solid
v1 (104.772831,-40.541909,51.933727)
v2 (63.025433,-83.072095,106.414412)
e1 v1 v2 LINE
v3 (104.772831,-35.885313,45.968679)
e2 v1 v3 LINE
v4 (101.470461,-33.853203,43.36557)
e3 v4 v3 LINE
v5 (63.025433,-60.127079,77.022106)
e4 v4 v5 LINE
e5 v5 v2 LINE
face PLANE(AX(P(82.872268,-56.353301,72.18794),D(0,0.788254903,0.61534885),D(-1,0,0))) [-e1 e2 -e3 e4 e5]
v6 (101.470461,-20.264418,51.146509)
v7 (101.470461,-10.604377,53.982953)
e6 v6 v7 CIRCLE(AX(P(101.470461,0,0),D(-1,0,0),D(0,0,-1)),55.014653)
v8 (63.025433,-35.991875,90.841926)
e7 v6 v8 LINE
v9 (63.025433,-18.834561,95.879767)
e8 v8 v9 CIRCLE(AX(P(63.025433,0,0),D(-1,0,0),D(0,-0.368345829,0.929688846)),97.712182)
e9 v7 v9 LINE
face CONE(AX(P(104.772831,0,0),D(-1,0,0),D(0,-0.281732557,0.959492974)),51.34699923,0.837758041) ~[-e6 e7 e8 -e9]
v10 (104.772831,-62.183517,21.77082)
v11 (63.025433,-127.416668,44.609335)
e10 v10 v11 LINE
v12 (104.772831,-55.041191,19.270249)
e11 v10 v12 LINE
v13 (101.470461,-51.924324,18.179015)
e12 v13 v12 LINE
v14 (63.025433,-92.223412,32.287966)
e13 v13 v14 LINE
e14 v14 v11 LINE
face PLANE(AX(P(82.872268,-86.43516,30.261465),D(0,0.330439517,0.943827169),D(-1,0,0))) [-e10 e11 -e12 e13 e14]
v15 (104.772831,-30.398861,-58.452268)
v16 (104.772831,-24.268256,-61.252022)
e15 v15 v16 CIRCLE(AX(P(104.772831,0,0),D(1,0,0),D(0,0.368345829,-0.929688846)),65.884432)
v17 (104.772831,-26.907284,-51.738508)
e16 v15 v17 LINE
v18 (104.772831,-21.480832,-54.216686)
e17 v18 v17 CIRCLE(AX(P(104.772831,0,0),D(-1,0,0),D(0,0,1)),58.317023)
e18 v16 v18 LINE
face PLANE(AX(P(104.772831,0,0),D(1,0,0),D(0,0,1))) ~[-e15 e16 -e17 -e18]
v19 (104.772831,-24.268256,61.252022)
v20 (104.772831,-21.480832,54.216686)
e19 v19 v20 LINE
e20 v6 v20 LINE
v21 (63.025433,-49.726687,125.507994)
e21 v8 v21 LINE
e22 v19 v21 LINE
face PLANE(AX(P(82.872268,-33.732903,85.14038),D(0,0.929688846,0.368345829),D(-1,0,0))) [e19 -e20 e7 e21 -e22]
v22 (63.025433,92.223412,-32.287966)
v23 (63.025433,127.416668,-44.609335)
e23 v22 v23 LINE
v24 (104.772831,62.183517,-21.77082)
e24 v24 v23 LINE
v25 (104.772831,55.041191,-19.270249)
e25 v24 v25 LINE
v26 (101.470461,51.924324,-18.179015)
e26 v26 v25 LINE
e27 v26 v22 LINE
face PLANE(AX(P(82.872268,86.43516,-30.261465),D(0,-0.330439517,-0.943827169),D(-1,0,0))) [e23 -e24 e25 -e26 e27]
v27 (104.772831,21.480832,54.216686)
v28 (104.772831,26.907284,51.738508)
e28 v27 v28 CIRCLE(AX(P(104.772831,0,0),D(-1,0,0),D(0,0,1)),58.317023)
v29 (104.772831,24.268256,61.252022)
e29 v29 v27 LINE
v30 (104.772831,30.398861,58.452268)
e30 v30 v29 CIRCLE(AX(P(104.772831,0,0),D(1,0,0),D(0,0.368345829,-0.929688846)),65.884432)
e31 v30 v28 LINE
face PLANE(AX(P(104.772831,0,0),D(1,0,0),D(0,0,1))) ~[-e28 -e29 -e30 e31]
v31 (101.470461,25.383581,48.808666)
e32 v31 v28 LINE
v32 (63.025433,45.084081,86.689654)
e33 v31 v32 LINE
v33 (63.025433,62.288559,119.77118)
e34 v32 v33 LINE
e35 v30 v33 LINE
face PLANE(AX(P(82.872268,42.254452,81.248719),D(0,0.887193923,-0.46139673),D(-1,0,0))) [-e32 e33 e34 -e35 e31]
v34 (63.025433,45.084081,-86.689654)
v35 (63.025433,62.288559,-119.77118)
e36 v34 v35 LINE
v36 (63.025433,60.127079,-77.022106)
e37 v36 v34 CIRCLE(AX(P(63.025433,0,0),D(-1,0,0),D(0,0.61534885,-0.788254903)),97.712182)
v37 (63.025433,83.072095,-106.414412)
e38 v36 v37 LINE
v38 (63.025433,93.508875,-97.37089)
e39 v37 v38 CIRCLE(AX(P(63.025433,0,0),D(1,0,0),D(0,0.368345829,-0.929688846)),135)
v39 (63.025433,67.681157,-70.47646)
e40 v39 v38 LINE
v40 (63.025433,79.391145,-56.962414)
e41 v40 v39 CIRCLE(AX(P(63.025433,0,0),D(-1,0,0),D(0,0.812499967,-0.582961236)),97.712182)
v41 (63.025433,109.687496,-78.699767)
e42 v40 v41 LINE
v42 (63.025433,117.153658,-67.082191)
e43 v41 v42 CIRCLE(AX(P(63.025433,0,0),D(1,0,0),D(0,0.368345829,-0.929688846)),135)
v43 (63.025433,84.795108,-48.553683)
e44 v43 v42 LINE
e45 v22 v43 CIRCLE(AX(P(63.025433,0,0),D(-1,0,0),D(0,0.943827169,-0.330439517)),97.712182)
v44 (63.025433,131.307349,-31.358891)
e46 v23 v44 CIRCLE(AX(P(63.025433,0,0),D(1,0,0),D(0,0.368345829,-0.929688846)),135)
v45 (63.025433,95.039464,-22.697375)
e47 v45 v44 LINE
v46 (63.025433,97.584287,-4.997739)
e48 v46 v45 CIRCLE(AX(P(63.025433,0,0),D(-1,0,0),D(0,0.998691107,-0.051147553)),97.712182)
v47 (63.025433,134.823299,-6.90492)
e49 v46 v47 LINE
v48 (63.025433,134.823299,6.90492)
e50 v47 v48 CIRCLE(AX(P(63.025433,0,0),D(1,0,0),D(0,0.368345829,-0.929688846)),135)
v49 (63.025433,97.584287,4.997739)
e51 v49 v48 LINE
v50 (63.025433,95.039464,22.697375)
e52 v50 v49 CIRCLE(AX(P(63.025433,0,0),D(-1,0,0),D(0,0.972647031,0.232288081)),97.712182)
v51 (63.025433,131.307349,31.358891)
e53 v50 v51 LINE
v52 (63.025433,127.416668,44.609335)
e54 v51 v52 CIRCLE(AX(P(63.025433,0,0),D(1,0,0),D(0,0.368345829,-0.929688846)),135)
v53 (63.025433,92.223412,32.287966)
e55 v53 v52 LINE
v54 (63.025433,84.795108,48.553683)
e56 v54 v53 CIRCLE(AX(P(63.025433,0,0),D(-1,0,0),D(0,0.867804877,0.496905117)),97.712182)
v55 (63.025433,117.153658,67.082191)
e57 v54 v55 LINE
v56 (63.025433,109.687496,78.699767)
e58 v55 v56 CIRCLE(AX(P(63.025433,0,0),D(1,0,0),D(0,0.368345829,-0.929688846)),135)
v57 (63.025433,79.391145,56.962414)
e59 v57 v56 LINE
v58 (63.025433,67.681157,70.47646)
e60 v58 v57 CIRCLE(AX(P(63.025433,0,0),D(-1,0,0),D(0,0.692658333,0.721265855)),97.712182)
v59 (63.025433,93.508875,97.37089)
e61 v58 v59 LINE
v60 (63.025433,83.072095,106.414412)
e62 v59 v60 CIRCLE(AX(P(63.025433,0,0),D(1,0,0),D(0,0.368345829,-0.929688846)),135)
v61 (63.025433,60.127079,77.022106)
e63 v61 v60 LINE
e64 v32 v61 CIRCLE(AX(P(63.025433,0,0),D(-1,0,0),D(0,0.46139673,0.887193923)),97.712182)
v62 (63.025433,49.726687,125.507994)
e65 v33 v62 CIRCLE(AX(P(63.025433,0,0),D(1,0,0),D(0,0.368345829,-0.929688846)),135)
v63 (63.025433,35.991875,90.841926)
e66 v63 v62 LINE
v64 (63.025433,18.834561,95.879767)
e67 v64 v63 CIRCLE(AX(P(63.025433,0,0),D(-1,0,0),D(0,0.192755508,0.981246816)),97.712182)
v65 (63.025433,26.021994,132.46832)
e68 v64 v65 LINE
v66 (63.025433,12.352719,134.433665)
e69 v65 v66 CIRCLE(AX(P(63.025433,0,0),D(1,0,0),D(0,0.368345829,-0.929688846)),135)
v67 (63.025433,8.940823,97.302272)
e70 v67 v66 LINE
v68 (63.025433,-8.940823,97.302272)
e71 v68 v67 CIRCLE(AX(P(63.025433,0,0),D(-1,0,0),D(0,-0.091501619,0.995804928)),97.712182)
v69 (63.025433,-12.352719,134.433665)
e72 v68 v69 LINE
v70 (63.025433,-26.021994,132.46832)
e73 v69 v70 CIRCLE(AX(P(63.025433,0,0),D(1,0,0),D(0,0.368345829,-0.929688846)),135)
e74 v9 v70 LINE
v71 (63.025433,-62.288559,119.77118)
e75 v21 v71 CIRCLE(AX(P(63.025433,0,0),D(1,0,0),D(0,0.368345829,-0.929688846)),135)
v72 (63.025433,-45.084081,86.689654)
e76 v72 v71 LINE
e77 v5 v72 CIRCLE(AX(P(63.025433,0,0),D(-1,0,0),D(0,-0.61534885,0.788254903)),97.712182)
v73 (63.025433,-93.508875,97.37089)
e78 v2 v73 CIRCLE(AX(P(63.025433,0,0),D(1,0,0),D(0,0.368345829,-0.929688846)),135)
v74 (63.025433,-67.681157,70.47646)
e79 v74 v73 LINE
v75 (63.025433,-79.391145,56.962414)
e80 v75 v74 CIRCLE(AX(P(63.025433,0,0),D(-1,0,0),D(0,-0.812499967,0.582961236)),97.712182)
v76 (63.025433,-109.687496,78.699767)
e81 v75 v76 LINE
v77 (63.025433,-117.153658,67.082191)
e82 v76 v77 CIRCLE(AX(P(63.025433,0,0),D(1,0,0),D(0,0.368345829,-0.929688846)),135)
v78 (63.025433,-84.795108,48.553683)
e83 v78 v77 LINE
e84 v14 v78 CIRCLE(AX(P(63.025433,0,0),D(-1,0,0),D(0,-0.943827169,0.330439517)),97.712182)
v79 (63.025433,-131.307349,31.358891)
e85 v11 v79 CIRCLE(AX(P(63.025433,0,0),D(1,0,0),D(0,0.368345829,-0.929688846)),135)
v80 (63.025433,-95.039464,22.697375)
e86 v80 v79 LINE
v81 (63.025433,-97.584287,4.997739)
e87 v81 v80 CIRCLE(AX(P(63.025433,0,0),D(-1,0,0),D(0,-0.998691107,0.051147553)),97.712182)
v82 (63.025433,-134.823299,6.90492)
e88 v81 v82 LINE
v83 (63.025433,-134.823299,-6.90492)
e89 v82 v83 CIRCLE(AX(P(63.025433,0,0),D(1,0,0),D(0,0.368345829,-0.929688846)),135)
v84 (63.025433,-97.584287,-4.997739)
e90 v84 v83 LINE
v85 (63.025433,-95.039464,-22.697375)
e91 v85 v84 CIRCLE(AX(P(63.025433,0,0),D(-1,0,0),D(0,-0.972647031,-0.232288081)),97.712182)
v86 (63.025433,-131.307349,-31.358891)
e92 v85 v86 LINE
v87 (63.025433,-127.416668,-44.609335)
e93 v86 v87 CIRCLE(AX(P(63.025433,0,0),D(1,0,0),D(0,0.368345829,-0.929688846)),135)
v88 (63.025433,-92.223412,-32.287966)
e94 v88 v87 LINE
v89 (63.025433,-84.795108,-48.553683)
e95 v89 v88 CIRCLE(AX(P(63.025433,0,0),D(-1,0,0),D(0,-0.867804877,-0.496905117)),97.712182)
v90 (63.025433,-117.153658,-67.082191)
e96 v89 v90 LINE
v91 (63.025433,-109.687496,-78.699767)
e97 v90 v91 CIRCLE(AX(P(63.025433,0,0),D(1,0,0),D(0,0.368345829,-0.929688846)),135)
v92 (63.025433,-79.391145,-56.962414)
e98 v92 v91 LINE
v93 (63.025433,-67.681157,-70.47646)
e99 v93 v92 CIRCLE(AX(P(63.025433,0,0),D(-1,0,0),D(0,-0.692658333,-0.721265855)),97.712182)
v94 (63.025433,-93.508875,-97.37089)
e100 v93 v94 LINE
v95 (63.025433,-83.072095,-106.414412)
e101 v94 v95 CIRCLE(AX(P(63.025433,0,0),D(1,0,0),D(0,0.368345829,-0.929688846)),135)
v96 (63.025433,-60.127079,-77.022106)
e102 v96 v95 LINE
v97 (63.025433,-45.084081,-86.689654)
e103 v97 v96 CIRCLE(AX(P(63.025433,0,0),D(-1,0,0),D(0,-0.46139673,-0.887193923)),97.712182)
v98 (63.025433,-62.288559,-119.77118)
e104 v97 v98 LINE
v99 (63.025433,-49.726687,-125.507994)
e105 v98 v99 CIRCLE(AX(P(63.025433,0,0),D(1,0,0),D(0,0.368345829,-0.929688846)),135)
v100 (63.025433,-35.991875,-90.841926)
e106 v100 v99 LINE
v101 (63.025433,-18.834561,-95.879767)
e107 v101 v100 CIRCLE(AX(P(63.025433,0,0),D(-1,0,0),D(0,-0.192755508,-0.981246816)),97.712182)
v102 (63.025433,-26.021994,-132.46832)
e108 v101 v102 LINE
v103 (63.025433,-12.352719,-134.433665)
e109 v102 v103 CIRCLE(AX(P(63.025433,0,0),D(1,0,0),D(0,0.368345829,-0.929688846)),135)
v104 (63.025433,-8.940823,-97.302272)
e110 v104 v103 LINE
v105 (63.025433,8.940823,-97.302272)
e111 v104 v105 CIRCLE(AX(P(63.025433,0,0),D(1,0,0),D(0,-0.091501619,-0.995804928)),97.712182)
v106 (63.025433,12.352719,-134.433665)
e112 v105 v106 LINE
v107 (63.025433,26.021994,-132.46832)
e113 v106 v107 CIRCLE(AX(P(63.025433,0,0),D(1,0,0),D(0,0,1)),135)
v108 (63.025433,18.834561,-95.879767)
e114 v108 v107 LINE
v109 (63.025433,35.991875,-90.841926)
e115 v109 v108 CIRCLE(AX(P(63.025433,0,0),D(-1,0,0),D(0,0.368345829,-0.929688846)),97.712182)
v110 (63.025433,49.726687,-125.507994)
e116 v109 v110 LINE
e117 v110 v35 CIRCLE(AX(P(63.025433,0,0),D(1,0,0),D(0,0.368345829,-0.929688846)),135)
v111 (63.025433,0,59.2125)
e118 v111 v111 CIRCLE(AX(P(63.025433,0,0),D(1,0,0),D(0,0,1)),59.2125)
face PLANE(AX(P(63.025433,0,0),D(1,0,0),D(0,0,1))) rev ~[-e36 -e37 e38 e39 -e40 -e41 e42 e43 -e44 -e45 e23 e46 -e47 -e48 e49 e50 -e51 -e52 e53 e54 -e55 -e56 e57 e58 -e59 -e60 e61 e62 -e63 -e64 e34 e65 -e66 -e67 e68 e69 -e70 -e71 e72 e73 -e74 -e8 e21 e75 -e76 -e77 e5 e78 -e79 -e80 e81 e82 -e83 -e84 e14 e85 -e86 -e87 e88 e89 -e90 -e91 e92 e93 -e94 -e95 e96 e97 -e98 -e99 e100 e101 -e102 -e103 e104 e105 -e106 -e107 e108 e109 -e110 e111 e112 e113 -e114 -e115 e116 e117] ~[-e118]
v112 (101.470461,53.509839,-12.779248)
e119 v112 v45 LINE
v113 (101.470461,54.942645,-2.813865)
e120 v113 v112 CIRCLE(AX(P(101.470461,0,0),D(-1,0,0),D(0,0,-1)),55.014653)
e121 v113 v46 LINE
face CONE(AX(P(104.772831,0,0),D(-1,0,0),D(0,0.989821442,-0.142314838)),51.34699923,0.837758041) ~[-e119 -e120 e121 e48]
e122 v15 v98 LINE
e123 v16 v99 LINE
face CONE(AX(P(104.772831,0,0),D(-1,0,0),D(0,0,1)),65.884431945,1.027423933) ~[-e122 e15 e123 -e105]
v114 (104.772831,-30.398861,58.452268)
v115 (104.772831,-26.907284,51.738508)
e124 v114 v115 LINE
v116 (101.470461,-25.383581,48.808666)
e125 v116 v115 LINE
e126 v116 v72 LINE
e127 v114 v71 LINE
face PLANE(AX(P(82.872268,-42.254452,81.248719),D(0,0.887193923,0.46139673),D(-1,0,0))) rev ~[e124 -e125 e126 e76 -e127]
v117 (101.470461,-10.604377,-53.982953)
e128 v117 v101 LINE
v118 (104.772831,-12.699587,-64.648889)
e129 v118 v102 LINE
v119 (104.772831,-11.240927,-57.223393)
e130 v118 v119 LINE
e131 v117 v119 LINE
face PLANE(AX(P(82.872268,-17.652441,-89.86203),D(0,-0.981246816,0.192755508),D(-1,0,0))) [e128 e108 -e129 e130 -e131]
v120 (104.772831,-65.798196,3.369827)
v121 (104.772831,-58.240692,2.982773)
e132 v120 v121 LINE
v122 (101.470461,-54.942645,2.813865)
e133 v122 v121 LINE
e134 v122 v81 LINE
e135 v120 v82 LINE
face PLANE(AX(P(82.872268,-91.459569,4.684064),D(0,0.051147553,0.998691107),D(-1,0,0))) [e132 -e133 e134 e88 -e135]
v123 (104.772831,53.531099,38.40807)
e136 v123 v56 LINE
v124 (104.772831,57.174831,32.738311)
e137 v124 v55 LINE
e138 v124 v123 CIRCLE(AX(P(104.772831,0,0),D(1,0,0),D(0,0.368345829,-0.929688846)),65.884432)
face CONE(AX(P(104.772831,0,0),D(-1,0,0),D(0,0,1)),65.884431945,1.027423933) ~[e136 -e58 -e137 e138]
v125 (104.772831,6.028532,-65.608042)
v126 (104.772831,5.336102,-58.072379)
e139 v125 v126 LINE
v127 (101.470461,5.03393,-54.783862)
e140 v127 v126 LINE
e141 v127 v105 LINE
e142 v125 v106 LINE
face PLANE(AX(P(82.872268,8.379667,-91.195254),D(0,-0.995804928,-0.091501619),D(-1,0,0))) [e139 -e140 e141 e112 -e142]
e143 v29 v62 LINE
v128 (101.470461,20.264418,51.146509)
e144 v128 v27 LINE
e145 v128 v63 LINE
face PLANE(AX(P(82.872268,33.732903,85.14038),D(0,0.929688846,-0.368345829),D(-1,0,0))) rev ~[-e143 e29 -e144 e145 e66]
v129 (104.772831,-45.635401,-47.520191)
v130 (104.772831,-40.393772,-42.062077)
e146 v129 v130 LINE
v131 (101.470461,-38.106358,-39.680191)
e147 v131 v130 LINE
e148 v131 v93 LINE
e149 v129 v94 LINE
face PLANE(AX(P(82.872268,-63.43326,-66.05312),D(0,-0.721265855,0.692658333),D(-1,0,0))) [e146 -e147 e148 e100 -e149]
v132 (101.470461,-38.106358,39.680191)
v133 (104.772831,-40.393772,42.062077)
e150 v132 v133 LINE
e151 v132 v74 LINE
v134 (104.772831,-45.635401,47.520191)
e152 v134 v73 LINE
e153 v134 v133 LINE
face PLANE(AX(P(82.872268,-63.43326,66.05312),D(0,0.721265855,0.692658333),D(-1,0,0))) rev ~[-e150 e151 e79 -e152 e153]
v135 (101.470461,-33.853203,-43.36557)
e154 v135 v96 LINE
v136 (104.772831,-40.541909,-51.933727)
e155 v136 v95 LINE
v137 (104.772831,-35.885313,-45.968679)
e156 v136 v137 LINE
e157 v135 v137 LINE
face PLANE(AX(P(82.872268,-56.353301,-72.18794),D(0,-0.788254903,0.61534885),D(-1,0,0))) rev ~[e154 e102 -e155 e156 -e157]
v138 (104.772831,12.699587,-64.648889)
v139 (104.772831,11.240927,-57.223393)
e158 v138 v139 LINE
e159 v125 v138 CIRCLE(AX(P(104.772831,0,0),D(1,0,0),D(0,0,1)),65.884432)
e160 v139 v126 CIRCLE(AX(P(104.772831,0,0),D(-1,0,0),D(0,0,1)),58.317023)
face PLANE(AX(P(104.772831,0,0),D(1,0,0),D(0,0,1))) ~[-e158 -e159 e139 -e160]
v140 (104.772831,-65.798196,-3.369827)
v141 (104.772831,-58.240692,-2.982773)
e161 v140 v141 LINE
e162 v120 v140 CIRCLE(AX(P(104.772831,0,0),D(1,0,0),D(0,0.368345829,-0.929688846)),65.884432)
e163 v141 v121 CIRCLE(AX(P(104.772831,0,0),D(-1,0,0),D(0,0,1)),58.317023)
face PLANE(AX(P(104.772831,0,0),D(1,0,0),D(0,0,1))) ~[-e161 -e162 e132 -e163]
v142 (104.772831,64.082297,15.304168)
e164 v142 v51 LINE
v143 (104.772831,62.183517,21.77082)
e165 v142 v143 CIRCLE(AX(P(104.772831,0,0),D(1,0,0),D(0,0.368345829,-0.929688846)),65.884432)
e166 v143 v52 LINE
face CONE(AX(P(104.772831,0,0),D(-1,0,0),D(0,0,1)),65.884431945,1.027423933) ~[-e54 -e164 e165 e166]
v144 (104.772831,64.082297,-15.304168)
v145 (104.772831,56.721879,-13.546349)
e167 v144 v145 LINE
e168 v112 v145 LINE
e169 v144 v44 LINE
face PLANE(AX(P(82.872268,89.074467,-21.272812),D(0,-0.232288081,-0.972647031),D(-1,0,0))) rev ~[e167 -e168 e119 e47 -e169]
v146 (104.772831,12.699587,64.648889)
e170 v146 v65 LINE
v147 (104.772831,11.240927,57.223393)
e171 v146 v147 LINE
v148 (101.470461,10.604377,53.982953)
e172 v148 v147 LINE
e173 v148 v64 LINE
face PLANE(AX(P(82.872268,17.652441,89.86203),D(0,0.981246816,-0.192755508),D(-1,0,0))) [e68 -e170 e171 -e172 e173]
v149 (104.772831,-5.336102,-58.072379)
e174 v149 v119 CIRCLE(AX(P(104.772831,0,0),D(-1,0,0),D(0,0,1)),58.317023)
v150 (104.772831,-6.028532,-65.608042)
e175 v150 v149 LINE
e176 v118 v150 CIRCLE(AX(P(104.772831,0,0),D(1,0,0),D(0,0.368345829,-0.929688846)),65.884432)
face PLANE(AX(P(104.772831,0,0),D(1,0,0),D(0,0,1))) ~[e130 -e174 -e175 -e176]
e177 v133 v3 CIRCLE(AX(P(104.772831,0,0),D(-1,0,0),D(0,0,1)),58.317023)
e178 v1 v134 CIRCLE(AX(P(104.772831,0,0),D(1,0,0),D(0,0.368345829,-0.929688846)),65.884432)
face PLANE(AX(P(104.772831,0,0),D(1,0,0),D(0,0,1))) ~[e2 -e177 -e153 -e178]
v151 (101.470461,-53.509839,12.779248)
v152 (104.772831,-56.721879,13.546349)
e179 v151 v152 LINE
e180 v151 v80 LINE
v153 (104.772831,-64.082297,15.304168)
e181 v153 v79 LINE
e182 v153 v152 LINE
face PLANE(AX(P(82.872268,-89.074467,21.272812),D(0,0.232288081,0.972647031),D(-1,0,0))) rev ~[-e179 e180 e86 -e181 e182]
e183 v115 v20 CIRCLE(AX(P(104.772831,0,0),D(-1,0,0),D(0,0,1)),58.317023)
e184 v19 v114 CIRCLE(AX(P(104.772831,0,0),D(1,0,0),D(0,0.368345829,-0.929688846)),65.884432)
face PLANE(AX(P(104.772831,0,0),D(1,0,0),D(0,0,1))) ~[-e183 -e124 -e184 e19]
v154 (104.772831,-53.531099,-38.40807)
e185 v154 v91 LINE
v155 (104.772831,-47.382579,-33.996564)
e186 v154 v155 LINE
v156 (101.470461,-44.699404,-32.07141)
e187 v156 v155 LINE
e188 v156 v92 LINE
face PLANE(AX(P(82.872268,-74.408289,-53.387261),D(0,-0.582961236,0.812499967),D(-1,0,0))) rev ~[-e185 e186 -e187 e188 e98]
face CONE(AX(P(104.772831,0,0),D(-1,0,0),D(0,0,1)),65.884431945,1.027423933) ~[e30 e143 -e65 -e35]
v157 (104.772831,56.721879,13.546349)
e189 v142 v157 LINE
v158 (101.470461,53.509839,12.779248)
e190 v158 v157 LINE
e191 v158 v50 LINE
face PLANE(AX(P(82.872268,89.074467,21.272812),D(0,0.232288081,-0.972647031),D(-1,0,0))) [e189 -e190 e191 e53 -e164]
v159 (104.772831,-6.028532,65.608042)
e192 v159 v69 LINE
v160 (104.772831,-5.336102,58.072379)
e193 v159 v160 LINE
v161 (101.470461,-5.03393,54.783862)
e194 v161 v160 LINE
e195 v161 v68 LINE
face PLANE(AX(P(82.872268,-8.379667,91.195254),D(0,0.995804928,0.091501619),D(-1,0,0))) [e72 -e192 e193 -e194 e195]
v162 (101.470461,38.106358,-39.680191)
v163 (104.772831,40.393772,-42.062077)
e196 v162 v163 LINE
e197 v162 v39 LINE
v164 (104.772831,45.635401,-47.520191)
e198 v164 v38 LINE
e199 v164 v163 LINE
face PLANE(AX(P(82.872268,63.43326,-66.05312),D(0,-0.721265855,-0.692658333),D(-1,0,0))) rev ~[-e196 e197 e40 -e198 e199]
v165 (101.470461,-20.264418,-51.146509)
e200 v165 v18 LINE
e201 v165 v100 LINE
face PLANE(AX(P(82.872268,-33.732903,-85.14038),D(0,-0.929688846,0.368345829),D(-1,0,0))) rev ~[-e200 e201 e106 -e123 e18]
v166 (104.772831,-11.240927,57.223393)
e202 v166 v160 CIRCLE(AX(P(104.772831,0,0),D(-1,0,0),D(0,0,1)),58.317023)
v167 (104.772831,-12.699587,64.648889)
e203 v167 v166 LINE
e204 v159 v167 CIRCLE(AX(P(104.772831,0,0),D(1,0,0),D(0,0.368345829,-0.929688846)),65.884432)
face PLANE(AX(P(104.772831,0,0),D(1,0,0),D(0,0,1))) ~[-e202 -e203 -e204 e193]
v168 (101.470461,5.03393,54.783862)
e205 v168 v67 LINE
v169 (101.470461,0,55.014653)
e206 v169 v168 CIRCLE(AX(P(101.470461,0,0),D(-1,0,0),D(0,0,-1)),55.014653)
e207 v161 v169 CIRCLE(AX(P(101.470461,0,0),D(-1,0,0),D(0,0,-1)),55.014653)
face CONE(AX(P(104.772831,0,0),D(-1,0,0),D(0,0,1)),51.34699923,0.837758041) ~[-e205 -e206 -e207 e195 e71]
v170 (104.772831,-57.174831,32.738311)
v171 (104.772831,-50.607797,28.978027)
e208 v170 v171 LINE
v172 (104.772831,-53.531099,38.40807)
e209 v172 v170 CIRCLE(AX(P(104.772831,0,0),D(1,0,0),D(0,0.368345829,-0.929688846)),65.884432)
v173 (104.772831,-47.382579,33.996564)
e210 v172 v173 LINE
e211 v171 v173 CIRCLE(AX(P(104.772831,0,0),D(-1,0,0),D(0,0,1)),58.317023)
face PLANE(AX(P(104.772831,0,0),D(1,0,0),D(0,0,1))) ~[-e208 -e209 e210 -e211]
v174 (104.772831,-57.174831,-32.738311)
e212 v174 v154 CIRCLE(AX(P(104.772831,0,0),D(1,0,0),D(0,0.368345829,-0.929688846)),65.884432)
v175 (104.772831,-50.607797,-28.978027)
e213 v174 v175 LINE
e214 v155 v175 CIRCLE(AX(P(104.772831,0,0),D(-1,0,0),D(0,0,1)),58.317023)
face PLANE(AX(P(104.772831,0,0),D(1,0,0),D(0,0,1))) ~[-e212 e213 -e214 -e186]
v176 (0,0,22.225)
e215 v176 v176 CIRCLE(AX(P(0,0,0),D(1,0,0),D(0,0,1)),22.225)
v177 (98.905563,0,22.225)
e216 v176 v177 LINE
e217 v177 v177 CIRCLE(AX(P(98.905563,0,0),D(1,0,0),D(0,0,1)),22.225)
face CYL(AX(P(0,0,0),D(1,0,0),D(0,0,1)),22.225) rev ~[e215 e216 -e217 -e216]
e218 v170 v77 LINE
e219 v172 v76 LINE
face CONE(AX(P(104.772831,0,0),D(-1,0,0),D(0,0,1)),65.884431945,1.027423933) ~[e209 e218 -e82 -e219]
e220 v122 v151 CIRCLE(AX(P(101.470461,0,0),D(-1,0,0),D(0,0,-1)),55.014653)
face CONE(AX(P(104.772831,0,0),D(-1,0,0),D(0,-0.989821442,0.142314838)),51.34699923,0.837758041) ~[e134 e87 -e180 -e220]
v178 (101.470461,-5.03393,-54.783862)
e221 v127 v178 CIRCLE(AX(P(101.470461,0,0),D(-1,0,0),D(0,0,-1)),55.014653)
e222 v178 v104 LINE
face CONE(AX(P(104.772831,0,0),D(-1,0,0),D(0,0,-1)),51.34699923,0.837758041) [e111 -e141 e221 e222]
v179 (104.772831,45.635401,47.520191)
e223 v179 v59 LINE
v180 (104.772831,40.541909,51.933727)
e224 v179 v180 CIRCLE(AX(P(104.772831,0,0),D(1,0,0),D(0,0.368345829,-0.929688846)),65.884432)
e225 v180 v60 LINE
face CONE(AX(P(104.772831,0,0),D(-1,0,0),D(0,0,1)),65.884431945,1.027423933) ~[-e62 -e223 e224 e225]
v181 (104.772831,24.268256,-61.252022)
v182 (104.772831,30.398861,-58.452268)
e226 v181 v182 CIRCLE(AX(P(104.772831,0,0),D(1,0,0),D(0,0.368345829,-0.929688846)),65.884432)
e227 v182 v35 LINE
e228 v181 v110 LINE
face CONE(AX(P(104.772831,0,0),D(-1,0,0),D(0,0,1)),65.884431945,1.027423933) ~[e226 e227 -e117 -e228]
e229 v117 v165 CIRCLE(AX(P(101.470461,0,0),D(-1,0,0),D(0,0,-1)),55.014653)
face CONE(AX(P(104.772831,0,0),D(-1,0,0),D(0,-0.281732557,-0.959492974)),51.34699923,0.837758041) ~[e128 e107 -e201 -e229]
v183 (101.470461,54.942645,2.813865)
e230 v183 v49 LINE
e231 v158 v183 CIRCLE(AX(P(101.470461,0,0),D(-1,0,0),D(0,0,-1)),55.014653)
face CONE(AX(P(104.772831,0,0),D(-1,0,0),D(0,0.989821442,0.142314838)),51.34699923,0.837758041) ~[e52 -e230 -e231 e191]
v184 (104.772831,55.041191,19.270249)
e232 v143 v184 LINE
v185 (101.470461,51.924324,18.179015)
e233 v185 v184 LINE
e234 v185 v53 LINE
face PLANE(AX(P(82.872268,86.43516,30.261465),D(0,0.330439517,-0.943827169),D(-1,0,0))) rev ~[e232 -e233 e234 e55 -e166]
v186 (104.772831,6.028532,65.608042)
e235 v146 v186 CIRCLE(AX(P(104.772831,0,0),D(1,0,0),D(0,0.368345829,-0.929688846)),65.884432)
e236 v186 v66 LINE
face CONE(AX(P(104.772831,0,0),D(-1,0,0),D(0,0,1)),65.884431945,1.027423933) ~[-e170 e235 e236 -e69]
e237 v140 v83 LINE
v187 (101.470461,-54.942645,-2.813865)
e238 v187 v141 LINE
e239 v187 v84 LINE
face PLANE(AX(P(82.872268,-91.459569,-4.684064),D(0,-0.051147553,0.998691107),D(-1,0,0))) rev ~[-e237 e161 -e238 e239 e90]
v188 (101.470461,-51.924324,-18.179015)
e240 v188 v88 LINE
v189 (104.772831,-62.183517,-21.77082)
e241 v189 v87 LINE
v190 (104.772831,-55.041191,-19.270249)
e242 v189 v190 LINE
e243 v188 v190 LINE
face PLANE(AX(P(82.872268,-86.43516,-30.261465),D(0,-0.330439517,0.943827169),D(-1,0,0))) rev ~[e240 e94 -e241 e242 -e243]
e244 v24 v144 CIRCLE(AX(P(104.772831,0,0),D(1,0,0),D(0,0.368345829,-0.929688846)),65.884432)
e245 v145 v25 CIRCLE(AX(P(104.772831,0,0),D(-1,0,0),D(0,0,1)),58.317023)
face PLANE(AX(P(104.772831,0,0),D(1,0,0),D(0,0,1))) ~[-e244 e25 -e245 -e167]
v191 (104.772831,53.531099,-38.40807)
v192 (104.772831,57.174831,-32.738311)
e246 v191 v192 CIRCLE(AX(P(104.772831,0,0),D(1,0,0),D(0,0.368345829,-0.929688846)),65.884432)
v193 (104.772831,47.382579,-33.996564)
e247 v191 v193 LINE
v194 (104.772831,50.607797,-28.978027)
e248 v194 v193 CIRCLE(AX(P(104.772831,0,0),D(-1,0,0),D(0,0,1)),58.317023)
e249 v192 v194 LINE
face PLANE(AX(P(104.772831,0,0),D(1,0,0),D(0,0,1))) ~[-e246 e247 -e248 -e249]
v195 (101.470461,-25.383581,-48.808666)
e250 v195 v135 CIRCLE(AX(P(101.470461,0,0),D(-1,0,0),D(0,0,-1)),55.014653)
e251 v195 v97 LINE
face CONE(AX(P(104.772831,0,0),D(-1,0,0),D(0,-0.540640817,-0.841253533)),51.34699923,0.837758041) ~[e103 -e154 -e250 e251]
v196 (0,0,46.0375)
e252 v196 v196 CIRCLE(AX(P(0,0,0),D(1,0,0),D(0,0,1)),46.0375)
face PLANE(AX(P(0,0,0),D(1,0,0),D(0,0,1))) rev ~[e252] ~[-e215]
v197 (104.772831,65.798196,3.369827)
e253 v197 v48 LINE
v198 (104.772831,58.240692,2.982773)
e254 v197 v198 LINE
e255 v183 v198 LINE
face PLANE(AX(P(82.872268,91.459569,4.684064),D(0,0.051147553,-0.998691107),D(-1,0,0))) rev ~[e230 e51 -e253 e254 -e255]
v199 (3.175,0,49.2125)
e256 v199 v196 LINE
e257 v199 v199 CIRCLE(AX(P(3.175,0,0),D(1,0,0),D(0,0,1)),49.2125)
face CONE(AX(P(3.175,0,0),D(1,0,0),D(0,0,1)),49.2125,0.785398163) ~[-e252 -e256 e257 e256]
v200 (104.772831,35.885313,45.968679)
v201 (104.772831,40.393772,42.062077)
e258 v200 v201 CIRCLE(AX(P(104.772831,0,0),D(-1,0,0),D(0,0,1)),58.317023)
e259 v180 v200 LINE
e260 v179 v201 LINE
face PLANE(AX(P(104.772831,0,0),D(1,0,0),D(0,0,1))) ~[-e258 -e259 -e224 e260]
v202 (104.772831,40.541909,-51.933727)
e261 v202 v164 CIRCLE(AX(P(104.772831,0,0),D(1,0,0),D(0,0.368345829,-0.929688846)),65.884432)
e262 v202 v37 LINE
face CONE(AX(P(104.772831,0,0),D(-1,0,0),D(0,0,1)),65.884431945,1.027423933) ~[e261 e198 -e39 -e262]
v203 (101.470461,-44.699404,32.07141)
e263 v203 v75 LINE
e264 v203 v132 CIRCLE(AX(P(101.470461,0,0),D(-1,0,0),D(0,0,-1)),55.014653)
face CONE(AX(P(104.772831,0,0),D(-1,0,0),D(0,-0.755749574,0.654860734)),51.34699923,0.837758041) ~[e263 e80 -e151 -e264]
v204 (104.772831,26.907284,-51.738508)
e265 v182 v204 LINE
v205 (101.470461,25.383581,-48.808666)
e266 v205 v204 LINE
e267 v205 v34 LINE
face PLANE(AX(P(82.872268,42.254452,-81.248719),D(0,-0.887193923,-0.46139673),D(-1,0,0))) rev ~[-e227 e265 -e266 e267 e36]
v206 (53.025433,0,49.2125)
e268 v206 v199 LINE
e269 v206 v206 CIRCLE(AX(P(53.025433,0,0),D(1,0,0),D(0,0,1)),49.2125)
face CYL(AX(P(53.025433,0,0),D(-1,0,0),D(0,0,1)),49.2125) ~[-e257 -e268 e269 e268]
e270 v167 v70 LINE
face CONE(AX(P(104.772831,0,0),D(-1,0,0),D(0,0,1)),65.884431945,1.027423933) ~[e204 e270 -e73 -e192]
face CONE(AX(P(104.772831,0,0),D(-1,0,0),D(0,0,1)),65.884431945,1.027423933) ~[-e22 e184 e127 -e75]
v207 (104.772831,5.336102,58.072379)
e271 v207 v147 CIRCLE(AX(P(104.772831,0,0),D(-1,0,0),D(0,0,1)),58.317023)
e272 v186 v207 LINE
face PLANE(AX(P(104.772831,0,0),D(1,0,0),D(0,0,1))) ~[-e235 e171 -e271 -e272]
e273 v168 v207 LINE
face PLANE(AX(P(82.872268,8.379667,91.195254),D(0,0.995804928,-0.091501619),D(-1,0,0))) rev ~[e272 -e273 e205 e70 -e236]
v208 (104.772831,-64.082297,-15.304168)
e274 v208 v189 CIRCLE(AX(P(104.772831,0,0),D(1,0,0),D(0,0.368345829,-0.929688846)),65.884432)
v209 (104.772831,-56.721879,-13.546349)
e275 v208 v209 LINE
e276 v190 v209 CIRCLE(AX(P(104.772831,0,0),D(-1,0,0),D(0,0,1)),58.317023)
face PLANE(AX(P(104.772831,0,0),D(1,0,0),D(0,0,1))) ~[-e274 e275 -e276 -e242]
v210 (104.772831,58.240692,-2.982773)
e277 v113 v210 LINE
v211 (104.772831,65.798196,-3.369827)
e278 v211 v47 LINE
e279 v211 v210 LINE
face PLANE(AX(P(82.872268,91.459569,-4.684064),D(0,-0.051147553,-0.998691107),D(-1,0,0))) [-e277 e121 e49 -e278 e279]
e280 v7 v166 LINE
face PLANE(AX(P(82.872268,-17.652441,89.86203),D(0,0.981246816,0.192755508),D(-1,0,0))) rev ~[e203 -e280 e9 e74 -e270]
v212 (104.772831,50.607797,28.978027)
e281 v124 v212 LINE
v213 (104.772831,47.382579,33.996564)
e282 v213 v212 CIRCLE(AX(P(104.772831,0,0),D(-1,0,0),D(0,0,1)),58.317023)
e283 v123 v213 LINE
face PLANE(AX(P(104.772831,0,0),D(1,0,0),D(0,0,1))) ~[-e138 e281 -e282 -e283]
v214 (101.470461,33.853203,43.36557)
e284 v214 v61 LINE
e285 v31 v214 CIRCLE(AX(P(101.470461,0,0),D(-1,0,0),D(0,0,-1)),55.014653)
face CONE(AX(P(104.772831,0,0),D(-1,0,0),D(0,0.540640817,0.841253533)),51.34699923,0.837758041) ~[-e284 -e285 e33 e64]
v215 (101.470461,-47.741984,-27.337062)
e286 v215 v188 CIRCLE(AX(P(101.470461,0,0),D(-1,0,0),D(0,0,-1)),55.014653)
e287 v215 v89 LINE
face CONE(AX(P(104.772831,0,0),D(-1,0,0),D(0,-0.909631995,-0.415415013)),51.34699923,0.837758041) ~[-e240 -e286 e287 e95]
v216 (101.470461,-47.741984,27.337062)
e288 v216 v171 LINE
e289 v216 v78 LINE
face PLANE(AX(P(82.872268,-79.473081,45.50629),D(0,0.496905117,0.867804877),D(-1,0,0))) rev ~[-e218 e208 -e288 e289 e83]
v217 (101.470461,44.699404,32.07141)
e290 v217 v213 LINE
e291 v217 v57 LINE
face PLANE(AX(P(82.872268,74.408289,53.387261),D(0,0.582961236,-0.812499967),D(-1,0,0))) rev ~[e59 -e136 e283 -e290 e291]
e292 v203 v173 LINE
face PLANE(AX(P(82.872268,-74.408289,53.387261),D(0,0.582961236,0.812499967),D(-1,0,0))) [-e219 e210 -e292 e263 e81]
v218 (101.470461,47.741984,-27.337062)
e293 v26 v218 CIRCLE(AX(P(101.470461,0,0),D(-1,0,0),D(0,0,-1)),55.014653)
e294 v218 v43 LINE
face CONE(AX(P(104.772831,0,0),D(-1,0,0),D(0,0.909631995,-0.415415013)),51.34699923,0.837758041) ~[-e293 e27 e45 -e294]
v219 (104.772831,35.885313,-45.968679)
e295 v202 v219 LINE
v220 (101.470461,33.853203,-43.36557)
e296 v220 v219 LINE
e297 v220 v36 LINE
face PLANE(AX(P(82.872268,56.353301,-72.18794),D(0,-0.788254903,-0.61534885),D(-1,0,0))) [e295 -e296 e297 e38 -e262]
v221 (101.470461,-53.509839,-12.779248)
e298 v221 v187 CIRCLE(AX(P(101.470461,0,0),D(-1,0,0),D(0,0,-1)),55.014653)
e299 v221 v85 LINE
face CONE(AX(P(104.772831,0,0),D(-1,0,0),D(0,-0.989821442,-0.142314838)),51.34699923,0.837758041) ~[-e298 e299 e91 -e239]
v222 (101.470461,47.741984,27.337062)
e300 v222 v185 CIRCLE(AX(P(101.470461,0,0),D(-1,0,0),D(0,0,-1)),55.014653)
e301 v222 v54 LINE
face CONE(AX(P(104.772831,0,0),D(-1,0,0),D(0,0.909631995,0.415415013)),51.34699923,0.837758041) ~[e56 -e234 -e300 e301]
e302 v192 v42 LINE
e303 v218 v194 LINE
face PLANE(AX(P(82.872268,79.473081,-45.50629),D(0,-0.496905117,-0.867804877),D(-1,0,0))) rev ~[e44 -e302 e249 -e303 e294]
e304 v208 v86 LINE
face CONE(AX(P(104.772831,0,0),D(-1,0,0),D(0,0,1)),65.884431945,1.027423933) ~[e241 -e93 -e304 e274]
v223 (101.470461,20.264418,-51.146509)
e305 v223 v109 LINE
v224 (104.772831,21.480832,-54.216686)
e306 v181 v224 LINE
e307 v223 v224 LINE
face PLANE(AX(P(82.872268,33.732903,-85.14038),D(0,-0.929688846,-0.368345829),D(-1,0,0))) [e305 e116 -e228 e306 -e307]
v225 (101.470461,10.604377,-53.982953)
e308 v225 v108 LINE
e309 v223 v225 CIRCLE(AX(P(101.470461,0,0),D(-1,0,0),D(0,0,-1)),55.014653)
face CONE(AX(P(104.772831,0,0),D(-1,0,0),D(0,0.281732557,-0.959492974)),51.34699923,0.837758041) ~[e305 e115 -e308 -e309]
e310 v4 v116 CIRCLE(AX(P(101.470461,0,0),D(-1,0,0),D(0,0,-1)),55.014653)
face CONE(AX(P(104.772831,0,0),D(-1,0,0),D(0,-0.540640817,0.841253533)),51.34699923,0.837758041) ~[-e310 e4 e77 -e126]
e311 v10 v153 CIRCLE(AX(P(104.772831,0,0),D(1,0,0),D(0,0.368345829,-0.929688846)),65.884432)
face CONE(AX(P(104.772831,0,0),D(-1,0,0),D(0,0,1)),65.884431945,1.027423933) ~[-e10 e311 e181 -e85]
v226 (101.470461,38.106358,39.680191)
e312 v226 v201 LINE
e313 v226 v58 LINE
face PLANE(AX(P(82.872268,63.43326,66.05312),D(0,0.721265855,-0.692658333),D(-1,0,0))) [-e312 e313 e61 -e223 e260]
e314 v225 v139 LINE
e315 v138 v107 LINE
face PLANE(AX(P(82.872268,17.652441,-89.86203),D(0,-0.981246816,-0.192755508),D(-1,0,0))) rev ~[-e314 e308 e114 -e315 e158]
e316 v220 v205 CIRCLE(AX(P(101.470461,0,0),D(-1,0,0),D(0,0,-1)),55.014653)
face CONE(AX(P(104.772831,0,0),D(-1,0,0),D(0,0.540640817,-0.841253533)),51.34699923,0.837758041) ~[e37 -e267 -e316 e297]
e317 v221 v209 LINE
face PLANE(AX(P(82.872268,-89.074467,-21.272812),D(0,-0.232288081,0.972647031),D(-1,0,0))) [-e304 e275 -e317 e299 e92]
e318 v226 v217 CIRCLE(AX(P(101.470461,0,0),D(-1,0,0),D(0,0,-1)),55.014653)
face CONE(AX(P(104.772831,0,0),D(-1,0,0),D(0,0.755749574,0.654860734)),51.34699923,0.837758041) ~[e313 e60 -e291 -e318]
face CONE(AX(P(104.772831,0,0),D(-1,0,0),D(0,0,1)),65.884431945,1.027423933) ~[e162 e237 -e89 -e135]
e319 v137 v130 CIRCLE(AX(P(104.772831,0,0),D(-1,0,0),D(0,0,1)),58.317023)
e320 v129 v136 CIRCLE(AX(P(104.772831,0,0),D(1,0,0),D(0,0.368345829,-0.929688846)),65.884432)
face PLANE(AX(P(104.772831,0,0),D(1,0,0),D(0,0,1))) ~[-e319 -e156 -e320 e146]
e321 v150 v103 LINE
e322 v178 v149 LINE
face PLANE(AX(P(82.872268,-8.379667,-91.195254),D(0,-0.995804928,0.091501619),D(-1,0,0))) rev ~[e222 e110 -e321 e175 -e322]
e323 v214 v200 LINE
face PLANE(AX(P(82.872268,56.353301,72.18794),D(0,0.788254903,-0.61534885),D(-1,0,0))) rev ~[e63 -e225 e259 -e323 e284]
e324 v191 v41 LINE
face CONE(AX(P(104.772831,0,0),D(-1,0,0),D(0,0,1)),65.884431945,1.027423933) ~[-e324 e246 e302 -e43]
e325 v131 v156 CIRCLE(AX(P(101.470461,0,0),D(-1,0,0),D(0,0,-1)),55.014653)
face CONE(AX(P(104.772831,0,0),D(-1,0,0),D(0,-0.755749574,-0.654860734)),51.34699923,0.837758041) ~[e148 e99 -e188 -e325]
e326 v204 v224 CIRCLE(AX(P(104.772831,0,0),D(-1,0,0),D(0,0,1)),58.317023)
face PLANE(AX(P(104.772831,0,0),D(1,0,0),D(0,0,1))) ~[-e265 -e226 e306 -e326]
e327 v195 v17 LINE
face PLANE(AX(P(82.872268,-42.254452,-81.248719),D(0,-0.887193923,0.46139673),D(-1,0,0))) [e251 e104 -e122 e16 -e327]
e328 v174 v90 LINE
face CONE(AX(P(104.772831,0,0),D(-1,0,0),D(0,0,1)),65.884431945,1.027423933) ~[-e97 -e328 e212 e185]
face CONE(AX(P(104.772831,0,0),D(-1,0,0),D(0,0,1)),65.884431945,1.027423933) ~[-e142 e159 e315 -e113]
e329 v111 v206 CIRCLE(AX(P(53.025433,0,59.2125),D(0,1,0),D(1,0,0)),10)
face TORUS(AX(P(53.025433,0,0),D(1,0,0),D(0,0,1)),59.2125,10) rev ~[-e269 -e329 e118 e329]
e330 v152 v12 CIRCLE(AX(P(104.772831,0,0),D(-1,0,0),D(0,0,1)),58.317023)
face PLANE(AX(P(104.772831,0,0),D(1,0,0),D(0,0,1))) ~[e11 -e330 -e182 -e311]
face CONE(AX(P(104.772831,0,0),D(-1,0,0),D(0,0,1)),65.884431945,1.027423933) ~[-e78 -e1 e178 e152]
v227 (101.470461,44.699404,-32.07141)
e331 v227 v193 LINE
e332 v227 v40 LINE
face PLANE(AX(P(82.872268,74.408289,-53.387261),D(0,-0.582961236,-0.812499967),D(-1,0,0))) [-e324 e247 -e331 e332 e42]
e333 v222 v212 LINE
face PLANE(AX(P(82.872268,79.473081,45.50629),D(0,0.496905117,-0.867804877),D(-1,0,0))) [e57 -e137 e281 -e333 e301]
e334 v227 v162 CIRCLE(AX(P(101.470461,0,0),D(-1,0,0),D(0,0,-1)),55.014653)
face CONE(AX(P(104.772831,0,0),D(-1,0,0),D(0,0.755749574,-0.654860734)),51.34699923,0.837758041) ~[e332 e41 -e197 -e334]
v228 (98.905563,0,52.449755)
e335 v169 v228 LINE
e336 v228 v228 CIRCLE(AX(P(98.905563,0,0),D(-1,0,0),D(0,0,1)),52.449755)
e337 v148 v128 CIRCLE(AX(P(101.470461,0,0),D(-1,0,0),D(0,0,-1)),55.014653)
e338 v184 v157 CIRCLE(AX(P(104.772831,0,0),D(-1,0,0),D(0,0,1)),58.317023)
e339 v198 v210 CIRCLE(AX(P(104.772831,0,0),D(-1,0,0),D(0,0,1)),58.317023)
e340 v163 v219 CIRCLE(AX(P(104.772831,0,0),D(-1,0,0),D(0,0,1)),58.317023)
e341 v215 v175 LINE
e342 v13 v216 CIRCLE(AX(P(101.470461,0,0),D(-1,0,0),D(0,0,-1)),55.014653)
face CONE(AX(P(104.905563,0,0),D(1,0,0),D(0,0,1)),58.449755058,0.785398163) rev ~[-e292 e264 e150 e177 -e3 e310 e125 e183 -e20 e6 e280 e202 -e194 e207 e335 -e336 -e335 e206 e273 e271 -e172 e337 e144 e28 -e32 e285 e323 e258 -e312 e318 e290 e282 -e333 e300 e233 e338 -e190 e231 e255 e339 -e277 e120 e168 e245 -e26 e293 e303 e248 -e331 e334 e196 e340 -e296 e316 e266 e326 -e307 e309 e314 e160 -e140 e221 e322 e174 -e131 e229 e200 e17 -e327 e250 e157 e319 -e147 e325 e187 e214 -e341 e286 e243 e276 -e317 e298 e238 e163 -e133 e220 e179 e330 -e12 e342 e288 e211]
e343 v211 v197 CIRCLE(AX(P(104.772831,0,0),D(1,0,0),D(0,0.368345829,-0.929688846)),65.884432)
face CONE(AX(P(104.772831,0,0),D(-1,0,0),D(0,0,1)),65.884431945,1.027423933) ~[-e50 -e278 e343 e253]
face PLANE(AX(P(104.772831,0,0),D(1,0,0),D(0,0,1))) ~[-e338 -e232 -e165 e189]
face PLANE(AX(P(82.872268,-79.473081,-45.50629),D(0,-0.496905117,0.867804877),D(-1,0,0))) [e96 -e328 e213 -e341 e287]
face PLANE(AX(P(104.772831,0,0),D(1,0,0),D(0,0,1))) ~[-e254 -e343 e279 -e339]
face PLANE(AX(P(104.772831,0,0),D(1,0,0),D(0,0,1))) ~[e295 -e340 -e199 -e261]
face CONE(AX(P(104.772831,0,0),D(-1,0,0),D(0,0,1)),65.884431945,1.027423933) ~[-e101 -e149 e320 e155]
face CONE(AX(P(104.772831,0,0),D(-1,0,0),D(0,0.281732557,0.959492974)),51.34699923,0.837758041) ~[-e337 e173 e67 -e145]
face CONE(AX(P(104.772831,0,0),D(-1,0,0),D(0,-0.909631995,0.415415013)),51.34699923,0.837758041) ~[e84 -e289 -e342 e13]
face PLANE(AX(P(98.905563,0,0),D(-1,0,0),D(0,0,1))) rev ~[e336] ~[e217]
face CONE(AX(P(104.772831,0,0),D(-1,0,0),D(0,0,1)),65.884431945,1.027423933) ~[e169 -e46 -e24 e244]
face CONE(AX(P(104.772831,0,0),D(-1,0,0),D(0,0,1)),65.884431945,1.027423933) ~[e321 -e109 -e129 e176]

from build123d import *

# Parameters (mm, degrees)
CORTE_REVOLU_O2_ANGLE = 10.5
PADR_OCIRCULAR1_COUNT = 22


with BuildPart() as part:
    # Esboço1 → Revolução1 (revolve)
    with BuildSketch(Plane.XY, mode=Mode.PRIVATE) as revolu_o1_sk:
        with BuildLine():
            Line((0, 22.225), (104.772830684, 22.225))
            Line((104.772830684, 22.225), (104.772830684, 65.884431945))
            Line((104.772830684, 65.884431945), (63.025432751, 135))
            Line((63.025432751, 135), (63.025432751, 59.2125))
            ThreePointArc((63.025432751, 59.2125), (60.096500563, 52.141432188), (53.025432751, 49.2125))
            Line((53.025432751, 49.2125), (3.175, 49.2125))
            Line((3.175, 49.2125), (0, 46.0375))
            Line((0, 46.0375), (0, 22.225))
        make_face()
    revolve(revolu_o1_sk.sketch.rotate(Axis((0, 0, 0), (1, 0, 0)), 90), axis=Axis((0, 0, 0), (1, 0, 0)))  # turned: the seam where the file's is

    # Esboço3 → Corte-Revolução2 (revolve, symmetric, cut)
    with BuildSketch(Plane(origin=(0, 0, 0), x_dir=(1, 0, 0), z_dir=(0, 1, 0))) as corte_revolu_o2_sk:
        Polygon((104.772830684, 51.34699923), (63.025432751, 97.712181836), (63.025432751, 135), (111.527529929, 60.313319884), align=None)
    corte_revolu_o2 = revolve(axis=Axis((0, 0, 0), (1, 0, 0)), revolution_arc=CORTE_REVOLU_O2_ANGLE / 2, mode=Mode.SUBTRACT)
    corte_revolu_o2 = corte_revolu_o2 + revolve(corte_revolu_o2_sk.sketch, axis=Axis((0, 0, 0), (-1, 0, 0)), revolution_arc=CORTE_REVOLU_O2_ANGLE / 2, mode=Mode.SUBTRACT)

    # PadrãoCircular1: Corte-Revolução2 ×22 about axis
    padr_ocircular1_axis = Axis((0, 0, 0), (1, 0, 0))
    for i in range(1, PADR_OCIRCULAR1_COUNT):
        add(corte_revolu_o2.rotate(padr_ocircular1_axis, i * 360 / PADR_OCIRCULAR1_COUNT), mode=Mode.SUBTRACT)

    # Esboço2 → Corte-Revolução1 (revolve, cut)
    with BuildSketch(Plane.XY, mode=Mode.PRIVATE) as corte_revolu_o1_sk:
        Polygon((104.905562781, 58.449755058), (98.905562781, 52.449755058), (98.905562781, 18.901389006), (104.905562781, 18.901389006), align=None)
    revolve(corte_revolu_o1_sk.sketch.rotate(Axis((104.772830684, 0, 0), (-1, 0, 0)), 270), axis=Axis((104.772830684, 0, 0), (-1, 0, 0)), mode=Mode.SUBTRACT)  # turned: the seam where the file's is


solid = part.part
